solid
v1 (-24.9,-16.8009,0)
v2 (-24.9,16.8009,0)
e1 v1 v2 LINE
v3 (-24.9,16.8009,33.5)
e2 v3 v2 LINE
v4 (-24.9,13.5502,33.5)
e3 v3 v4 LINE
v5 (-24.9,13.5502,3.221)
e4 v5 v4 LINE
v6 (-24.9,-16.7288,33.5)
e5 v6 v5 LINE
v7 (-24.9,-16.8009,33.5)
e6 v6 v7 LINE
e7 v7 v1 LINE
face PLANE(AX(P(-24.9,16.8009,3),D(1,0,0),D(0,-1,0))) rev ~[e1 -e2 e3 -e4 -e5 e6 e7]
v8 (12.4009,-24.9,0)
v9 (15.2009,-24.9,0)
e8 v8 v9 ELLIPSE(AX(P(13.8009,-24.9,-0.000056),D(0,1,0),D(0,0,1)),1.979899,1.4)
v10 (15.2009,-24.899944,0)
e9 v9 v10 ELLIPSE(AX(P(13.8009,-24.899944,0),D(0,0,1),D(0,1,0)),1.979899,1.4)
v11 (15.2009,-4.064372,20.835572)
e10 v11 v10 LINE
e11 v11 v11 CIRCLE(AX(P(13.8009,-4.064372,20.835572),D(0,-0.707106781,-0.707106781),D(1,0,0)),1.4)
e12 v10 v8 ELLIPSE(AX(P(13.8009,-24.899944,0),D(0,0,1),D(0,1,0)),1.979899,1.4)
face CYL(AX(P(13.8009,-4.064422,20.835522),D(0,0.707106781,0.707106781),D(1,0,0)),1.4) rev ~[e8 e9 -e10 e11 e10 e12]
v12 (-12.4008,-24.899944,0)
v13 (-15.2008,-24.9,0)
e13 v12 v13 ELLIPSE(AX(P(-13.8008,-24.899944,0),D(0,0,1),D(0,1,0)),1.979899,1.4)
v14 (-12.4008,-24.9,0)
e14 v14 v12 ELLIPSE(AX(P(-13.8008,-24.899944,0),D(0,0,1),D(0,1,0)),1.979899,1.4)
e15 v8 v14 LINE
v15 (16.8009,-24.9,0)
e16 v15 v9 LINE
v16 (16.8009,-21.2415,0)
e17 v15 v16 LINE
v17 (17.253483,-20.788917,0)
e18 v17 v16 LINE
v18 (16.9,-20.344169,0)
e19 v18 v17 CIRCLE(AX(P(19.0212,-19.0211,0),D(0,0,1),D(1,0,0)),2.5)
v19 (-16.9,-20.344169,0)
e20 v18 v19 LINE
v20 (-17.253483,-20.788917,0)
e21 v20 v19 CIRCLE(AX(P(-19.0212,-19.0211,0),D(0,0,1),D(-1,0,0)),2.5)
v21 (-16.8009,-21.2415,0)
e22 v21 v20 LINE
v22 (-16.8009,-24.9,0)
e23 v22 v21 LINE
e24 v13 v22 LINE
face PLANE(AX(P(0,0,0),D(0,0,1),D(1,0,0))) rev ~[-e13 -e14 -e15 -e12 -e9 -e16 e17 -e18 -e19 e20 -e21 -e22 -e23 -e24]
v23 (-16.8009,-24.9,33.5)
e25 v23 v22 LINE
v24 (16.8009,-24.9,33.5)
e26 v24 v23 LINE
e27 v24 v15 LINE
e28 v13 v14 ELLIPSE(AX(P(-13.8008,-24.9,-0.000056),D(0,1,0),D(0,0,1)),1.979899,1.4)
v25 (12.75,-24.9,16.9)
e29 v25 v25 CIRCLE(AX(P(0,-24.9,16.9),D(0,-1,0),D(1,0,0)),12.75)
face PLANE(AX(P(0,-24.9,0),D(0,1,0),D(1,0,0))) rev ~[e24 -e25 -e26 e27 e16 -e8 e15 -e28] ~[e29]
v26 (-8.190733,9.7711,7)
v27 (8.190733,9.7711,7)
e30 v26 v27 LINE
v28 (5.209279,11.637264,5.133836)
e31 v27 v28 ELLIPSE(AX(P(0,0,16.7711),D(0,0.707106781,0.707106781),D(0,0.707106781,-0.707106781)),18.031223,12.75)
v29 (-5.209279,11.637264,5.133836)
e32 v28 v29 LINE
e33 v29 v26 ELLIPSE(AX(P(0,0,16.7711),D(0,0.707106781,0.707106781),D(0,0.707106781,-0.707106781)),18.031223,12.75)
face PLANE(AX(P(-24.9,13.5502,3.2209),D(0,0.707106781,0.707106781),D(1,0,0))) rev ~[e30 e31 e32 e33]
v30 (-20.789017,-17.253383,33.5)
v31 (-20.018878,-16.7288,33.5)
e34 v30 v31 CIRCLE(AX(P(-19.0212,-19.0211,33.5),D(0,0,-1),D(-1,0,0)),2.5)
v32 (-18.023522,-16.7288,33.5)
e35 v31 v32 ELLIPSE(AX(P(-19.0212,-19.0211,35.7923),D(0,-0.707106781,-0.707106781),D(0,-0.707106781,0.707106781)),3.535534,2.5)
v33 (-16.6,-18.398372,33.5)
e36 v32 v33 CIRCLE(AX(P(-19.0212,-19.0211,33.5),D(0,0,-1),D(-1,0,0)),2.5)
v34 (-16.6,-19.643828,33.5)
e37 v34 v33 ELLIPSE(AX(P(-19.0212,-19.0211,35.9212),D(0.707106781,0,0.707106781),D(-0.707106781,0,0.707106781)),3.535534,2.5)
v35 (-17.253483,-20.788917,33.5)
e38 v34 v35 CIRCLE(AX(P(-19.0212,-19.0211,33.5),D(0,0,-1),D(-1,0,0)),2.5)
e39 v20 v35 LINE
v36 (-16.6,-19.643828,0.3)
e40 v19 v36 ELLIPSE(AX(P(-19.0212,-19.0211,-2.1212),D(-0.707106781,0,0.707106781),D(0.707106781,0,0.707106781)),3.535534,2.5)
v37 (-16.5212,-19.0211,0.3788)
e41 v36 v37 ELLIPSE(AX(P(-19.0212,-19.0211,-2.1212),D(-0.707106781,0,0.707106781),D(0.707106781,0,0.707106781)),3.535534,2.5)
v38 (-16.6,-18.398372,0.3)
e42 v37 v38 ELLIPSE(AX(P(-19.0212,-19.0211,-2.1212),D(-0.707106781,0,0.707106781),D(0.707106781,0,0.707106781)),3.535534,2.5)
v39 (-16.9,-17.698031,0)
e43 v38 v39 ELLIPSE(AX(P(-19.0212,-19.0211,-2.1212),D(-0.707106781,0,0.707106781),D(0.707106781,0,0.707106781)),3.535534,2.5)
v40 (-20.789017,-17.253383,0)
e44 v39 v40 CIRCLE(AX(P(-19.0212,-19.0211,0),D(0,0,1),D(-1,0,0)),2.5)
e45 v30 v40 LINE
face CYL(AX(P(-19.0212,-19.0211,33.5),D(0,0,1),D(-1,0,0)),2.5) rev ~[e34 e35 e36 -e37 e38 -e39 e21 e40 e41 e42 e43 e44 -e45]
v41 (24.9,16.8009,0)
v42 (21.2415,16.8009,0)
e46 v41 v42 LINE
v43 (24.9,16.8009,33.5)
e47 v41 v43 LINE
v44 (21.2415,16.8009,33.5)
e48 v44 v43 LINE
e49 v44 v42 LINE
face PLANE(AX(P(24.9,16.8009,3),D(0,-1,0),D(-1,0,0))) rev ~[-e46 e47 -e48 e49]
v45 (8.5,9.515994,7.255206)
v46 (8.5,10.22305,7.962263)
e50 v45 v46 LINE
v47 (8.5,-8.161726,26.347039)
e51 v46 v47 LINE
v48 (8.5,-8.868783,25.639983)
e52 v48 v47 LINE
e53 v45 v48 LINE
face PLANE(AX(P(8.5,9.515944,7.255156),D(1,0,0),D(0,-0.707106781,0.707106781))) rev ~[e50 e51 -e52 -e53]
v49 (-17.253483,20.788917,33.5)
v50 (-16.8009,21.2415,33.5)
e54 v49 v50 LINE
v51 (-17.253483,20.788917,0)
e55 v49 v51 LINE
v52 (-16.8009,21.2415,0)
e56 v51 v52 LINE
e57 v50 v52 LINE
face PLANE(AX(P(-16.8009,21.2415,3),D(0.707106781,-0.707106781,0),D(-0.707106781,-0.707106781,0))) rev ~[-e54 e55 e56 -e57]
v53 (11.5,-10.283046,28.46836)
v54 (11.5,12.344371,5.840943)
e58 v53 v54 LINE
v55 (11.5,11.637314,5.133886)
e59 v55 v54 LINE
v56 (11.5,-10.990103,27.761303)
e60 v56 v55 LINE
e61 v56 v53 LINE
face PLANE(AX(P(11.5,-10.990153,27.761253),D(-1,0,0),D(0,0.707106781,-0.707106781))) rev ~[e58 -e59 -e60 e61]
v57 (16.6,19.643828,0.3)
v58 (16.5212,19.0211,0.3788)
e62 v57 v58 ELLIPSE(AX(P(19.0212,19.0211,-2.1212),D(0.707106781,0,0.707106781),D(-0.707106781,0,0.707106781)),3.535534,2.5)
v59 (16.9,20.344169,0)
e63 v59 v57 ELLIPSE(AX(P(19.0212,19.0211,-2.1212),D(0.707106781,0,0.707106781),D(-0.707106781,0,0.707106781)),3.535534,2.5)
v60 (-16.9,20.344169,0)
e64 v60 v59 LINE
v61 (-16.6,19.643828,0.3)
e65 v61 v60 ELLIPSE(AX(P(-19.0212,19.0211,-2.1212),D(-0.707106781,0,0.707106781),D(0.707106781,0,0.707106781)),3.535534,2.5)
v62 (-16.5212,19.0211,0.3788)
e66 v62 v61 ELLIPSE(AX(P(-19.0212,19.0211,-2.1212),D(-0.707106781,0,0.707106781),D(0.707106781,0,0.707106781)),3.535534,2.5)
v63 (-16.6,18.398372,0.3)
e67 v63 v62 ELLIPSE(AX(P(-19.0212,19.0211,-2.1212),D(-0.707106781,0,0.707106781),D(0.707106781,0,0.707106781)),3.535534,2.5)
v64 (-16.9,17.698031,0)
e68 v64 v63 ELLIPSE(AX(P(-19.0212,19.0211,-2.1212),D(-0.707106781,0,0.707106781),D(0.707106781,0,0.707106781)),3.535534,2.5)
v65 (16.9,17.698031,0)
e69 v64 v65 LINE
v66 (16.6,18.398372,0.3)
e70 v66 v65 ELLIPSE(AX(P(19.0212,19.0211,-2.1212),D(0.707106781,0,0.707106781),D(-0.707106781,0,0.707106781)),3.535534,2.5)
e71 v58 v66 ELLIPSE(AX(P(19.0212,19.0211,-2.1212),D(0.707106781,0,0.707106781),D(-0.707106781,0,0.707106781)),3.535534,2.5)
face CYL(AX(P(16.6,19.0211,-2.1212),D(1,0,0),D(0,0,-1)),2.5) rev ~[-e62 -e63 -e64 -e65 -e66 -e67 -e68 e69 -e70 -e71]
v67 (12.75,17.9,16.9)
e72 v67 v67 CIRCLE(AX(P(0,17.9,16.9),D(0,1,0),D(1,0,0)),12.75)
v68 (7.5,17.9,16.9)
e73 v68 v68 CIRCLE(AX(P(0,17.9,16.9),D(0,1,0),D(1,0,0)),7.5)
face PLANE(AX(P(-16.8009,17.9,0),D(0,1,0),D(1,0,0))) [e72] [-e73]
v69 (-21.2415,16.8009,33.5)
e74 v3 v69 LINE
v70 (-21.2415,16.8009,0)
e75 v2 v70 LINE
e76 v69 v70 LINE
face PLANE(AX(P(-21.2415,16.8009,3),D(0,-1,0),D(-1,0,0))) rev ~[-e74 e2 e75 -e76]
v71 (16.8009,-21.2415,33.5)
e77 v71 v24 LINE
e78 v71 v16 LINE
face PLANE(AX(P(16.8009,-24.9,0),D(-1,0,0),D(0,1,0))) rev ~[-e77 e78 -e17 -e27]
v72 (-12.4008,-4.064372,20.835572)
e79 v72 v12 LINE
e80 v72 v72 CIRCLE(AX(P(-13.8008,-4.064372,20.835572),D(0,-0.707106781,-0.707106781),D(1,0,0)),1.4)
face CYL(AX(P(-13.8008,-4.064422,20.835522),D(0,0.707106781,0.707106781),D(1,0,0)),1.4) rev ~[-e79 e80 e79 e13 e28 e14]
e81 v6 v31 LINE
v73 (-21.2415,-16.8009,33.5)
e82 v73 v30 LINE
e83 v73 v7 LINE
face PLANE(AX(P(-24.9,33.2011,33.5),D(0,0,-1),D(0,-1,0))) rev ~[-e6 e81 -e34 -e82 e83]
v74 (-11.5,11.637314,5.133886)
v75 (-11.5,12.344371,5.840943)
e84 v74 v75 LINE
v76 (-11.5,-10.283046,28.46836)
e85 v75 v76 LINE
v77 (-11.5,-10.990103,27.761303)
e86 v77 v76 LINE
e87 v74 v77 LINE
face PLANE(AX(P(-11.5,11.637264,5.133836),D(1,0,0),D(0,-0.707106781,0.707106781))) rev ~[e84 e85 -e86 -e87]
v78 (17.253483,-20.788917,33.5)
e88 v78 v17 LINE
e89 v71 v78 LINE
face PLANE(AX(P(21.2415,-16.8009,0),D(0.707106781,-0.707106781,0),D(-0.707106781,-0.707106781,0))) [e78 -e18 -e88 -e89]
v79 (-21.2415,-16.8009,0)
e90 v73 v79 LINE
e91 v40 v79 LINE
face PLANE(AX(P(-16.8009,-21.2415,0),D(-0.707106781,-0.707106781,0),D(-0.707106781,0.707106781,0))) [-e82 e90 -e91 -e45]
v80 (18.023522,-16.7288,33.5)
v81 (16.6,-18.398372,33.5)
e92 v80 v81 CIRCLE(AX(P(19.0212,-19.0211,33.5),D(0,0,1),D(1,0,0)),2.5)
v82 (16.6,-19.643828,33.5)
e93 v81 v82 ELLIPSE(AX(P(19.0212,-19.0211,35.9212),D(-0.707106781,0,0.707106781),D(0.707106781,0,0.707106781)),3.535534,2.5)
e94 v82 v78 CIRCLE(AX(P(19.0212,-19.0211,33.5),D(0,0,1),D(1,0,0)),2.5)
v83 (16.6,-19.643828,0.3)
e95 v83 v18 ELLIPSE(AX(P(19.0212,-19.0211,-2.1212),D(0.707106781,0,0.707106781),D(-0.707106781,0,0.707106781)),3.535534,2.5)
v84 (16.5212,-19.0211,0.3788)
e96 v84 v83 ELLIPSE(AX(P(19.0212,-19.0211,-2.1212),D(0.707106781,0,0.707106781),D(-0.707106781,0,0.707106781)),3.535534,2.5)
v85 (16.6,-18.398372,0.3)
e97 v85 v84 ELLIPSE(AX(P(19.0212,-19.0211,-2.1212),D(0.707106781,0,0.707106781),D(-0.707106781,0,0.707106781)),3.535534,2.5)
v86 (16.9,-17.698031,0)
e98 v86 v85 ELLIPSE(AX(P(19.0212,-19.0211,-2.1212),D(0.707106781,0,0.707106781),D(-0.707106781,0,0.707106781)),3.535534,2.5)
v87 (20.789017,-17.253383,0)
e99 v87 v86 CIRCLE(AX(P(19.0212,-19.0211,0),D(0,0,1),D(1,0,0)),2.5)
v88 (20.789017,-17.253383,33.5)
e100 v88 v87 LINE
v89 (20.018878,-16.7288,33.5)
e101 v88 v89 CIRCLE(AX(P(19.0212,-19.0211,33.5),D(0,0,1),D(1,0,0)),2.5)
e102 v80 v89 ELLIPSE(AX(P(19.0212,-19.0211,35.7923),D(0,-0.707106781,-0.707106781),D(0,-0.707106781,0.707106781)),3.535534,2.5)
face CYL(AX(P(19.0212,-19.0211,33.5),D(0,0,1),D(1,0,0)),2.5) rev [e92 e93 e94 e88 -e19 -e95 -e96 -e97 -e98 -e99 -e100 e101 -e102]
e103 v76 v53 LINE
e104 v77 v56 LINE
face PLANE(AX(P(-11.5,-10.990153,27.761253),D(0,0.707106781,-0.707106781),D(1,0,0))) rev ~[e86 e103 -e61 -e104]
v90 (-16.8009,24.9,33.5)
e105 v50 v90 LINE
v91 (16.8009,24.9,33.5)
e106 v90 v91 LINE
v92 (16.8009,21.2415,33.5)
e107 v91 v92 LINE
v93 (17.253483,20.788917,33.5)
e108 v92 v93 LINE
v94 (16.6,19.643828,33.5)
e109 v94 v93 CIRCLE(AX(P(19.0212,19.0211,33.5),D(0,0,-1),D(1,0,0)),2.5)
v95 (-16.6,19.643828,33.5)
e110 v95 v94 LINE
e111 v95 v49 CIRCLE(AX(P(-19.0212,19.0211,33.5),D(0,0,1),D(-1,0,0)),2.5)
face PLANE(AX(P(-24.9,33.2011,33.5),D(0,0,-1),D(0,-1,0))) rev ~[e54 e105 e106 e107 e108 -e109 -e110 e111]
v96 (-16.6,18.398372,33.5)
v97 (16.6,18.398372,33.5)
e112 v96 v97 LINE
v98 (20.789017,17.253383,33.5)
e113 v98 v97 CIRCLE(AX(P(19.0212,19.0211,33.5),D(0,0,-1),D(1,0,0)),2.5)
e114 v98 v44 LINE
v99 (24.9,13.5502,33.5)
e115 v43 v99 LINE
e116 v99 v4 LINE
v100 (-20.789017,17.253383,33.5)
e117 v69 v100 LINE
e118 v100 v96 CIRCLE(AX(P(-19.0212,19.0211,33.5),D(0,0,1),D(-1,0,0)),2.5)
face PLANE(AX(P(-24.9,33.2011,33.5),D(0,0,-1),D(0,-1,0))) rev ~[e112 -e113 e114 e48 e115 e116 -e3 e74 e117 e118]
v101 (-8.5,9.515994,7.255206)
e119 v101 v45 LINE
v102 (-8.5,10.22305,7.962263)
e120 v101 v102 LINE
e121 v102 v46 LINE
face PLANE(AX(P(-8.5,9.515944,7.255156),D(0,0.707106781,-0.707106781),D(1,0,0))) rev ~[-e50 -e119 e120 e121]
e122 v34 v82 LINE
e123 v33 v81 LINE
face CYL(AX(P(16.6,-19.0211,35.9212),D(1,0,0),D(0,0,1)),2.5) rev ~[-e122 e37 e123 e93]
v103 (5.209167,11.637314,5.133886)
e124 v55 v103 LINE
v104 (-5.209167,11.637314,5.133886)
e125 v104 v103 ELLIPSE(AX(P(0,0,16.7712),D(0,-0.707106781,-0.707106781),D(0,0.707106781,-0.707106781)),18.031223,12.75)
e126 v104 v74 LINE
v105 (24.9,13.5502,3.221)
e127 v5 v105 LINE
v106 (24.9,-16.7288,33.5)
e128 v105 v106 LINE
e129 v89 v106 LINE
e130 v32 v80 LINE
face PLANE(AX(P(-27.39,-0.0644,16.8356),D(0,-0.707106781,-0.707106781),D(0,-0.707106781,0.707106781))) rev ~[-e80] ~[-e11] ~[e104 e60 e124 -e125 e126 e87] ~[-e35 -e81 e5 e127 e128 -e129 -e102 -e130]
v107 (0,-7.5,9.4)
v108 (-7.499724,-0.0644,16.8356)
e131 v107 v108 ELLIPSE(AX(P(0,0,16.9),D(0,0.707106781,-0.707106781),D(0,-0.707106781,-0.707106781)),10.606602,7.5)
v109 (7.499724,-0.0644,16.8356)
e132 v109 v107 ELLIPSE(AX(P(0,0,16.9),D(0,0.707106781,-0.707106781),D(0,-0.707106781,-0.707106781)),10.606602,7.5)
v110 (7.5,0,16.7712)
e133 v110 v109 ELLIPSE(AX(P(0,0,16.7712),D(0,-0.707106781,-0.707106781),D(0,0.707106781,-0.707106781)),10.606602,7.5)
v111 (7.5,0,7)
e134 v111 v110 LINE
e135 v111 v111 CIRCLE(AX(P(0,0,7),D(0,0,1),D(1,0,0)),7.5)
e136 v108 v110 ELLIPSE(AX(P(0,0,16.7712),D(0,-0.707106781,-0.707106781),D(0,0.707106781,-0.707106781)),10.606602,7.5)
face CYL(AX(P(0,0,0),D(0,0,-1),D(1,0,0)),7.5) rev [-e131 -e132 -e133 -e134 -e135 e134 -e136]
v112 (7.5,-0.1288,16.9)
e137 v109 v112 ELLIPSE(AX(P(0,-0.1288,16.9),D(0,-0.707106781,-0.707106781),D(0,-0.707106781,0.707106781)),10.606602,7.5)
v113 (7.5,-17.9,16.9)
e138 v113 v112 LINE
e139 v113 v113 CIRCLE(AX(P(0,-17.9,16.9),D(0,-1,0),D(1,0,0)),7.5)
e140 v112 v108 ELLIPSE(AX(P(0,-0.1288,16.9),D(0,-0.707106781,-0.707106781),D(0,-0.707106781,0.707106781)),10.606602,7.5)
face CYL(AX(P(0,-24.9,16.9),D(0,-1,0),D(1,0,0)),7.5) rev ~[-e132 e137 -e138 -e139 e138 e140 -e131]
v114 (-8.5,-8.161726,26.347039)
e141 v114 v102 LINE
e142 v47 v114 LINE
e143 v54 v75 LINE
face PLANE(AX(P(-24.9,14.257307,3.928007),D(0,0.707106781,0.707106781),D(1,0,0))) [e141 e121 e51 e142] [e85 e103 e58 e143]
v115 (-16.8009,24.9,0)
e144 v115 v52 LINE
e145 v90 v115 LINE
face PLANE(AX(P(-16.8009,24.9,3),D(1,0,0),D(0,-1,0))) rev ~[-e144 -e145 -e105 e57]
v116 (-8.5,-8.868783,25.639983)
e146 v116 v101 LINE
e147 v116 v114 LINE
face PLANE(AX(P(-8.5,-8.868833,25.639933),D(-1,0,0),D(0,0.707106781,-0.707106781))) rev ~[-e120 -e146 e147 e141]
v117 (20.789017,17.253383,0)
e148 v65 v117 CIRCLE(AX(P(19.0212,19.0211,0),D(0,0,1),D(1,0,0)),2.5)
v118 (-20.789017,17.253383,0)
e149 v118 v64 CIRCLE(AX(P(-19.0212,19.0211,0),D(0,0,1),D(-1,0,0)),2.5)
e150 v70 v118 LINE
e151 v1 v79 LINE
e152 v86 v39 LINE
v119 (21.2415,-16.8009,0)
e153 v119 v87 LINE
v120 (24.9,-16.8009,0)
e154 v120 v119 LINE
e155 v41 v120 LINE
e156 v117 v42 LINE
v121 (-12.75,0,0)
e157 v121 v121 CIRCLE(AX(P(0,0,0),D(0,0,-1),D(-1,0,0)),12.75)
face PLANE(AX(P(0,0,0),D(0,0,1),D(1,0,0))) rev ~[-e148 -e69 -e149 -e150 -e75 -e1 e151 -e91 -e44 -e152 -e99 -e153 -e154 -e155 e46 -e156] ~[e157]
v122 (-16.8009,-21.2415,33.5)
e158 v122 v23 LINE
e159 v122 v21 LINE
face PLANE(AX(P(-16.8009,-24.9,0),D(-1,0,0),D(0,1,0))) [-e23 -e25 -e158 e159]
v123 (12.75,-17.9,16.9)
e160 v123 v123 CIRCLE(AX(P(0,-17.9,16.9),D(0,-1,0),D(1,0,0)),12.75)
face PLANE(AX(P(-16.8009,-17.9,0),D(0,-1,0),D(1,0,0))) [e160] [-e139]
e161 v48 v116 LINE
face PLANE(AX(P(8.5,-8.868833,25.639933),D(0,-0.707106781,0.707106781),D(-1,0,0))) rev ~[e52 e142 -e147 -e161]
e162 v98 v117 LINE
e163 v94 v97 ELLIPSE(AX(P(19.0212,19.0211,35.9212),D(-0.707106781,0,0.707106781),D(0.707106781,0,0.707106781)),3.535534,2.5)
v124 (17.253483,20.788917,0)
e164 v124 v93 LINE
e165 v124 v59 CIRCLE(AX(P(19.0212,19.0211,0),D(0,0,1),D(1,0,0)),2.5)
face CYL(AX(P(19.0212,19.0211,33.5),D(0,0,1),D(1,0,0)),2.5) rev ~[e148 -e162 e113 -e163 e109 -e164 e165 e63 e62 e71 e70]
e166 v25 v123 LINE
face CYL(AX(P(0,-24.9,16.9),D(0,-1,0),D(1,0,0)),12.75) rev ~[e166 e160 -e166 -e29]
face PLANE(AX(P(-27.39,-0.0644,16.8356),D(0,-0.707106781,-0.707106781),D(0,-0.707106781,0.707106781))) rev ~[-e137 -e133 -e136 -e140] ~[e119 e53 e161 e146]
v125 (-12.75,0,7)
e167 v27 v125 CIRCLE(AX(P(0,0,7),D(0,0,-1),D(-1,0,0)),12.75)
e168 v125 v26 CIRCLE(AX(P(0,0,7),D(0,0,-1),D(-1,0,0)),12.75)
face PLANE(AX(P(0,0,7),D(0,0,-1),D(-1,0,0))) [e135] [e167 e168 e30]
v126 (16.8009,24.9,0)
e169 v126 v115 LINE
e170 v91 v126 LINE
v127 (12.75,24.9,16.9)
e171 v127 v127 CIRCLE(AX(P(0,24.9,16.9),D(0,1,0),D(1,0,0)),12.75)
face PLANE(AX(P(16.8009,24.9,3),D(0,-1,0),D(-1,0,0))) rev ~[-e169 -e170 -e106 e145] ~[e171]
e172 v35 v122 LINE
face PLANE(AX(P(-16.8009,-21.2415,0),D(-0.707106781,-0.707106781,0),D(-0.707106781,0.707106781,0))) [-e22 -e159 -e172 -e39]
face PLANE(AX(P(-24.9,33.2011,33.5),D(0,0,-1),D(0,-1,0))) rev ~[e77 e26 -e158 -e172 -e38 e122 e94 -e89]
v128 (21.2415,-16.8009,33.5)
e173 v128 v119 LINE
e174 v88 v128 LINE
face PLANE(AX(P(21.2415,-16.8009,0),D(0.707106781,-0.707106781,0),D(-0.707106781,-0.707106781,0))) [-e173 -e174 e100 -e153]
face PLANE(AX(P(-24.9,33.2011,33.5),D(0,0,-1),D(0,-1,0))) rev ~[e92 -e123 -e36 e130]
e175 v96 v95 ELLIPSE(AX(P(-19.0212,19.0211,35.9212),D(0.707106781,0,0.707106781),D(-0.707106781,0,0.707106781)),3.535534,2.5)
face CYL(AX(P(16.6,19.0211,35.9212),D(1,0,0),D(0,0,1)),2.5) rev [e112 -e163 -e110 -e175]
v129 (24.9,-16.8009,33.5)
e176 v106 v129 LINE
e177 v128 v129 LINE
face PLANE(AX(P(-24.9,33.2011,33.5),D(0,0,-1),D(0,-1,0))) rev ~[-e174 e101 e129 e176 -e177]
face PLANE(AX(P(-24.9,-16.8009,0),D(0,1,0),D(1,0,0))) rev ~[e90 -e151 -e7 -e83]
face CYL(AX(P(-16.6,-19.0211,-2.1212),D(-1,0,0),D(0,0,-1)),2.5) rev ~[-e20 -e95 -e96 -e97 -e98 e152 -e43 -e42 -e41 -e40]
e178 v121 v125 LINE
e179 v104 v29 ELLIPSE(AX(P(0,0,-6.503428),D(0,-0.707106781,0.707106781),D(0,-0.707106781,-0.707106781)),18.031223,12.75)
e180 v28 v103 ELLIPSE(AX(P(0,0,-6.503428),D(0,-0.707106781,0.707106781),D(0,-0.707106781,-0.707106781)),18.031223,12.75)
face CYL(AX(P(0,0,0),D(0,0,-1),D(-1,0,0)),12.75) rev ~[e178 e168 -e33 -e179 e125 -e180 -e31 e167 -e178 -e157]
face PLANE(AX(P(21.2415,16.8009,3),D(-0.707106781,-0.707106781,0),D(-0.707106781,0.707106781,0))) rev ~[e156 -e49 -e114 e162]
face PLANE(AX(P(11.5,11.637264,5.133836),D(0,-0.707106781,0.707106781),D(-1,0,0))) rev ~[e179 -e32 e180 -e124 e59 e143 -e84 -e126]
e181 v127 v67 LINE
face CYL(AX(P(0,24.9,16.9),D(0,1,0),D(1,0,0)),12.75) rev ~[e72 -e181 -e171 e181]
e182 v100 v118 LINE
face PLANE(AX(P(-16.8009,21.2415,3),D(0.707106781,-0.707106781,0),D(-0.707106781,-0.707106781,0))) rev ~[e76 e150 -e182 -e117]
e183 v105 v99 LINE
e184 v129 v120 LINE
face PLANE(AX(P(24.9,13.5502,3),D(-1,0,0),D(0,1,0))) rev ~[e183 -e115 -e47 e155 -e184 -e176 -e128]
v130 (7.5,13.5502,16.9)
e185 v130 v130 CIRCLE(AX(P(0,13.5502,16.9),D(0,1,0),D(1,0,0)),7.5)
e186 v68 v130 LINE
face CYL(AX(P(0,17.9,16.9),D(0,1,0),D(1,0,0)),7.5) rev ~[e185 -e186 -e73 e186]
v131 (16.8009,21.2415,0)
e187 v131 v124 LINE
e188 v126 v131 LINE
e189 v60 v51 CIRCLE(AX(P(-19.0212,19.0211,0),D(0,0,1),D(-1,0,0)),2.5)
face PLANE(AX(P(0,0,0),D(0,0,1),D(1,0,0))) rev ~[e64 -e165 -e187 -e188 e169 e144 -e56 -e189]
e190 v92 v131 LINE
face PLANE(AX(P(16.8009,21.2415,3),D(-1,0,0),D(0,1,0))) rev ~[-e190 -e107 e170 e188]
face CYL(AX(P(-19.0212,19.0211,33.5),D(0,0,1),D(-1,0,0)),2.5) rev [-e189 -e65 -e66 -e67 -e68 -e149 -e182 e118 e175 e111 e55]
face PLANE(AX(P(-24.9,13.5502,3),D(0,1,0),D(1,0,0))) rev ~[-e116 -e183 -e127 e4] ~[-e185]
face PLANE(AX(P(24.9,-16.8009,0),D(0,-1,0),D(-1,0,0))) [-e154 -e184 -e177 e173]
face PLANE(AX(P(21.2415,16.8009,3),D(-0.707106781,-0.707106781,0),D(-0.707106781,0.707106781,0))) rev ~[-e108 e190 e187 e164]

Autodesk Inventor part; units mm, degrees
ref_plane "YZ Plane" through (0, 0, 0) normal (1, 0, 0) x (0, 1, 0)
sketch "Sketch1" plane through (0, 0, 0) normal (0, 0, 1) x (1, 0, 0)
  line L0 (-34.86, 0) -> (34.86, 0) construction
  line L1 (0, -34.86) -> (0, 34.86) construction
  line L2 (0, 0) -> (16.9726, 16.9726) construction
  line L3 (0, 0) -> (24.0028, 0) construction
  line L4 (0, 24.9) -> (16.8009, 24.9)
  line L5 (16.8009, 24.9) -> (16.8009, 21.2415)
  line L6 (16.8009, 21.2415) -> (19.0212, 19.0212)
  line L7 (24.9, 0) -> (24.9, 16.8009)
  line L8 (24.9, 16.8009) -> (21.2415, 16.8009)
  line L9 (21.2415, 16.8009) -> (19.0212, 19.0212)
  line L10 (0, -24.9) -> (16.8009, -24.9)
  line L11 (16.8009, -24.9) -> (16.8009, -21.2415)
  line L12 (16.8009, -21.2415) -> (19.0212, -19.0212)
  line L13 (24.9, 0) -> (24.9, -16.8009)
  line L14 (24.9, -16.8009) -> (21.2415, -16.8009)
  line L15 (21.2415, -16.8009) -> (19.0212, -19.0212)
  line L16 (0, 0) -> (-16.9726, 16.9726) construction
  line L17 (0, 0) -> (-24.0028, 0) construction
  line L18 (0, 24.9) -> (-16.8009, 24.9)
  line L19 (-16.8009, 24.9) -> (-16.8009, 21.2415)
  line L20 (-16.8009, 21.2415) -> (-19.0212, 19.0212)
  line L21 (-24.9, 0) -> (-24.9, 16.8009)
  line L22 (-24.9, 16.8009) -> (-21.2415, 16.8009)
  line L23 (-21.2415, 16.8009) -> (-19.0212, 19.0212)
  line L24 (0, -24.9) -> (-16.8009, -24.9)
  line L25 (-16.8009, -24.9) -> (-16.8009, -21.2415)
  line L26 (-16.8009, -21.2415) -> (-19.0212, -19.0212)
  line L27 (-21.2415, -16.8009) -> (-19.0212, -19.0212)
  line L28 (-24.9, -16.8009) -> (-21.2415, -16.8009)
  line L29 (-24.9, 0) -> (-24.9, -16.8009)
  circle A0 centre (0, 0) radius 7.5
  dimension "d17" = 45
  dimension "d18" = 24.9
  dimension "d20" = 3.14
  dimension "d21" = 26.9
  dimension "d22" = 15
extrude "Extrusion1" add sketch "Sketch1" along normal blind 3
sketch "Sketch6" plane through (0, 0, 3) normal (0, 0, 1) x (1, 0, 0)
  circle A0 centre (0, 0) radius 7.5 projected
  line L0 (16.8009, 24.9) -> (-16.8009, 24.9) projected
  line L1 (-16.8009, 24.9) -> (-16.8009, 21.2415) projected
  line L2 (-16.8009, 21.2415) -> (-21.2415, 16.8009) projected
  line L3 (-21.2415, 16.8009) -> (-24.9, 16.8009) projected
  line L4 (-24.9, 16.8009) -> (-24.9, -16.8009) projected
  line L5 (-24.9, -16.8009) -> (-21.2415, -16.8009) projected
  line L6 (-21.2415, -16.8009) -> (-16.8009, -21.2415) projected
  line L7 (-16.8009, -21.2415) -> (-16.8009, -24.9) projected
  line L8 (-16.8009, -24.9) -> (16.8009, -24.9) projected
  line L9 (16.8009, -24.9) -> (16.8009, -21.2415) projected
  line L10 (16.8009, -21.2415) -> (21.2415, -16.8009) projected
  line L11 (21.2415, -16.8009) -> (24.9, -16.8009) projected
  line L12 (24.9, -16.8009) -> (24.9, 16.8009) projected
  line L13 (24.9, 16.8009) -> (21.2415, 16.8009) projected
  line L14 (21.2415, 16.8009) -> (16.8009, 21.2415) projected
  line L15 (16.8009, 21.2415) -> (16.8009, 24.9) projected
  line L16 (24.9, -16.8009) -> (24.9, 16.8009) projected
  line L17 (24.9, 13.5502) -> (-24.9, 13.5502)
  line L18 (-24.9, 16.8009) -> (-24.9, -16.8009) projected
ref_plane "Work Plane2" through (-27.39, -0.0644, 16.8356) normal (0, -0.7071, -0.7071) x (0, 0.7071, -0.7071)
extrude "Extrusion6" add sketch "Sketch6" along normal up to surface contours L12 L11 L10 L9 L8 L7 L6 L5 L4 L17 surface through (-27.39, -0.0644, 16.8356) normal (0, -0.7071, -0.7071)
sketch "Sketch7" plane through (-16.8009, -24.9, 0) normal (0, -1, 0) x (1, 0, 0)
  line L0 (-0.0991, 33.8) -> (0.8009, 33.8) projected
  arc A0 (-6.0991, 41.8) -> (-8.0991, 39.8) centre (-6.0991, 39.8) ccw projected
  arc A1 (41.7009, 39.8) -> (39.7009, 41.8) centre (39.7009, 39.8) ccw projected
  line L1 (41.9057, 41.8) -> (-10.6447, 41.8)
  line L2 (-10.6447, 41.8) -> (-10.6447, 33.8)
  line L3 (-10.6447, 33.8) -> (41.9057, 33.8)
  line L4 (41.9057, 33.8) -> (41.9057, 41.8)
  point P0 (16.8009, 0)
extrude "Extrusion7" cut sketch "Sketch7" against normal through all
sketch "Sketch8" plane through (21.2415, -16.8009, 0) normal (0, -1, 0) x (1, 0, 0)
  line L0 (-8.7415, 0) -> (-33.7415, 0) projected
  line L1 (-33.7415, -1) -> (-8.7415, -1) projected
  line L2 (-46.1415, 33.572) -> (-42.483, 33.572) projected
  line L3 (3.6585, 33.8) -> (0.0423, 33.8) projected
  line L4 (0, 33.572) -> (3.6585, 33.572) projected
  line L5 (-46.1415, 3.2209) -> (-46.1415, 33.572) projected
  line L6 (3.6585, 33.572) -> (-46.1415, 33.572)
  line L7 (-46.1415, 33.572) -> (-46.1415, 30.572)
  line L8 (-46.1415, 30.572) -> (3.6585, 30.572)
  line L9 (3.6585, 30.572) -> (3.6585, 33.572)
  dimension "d45" = 3
sketch "Sketch9" plane through (-16.8009, -24.9, 0) normal (0, -1, 0) x (1, 0, 0)
  line L0 (33.7009, 0) -> (33.0009, 0) construction
  line L1 (36.0327, -6) -> (22.7009, -6) construction
  circle A0 centre (16.8009, 16.9) radius 16.9 construction
  circle A1 centre (16.8009, 16.9) radius 7.5
  line L2 (39.7009, 8.1978) -> (33.7009, 8.1978) projected
  line L3 (33.7009, 8.1978) -> (33.7009, 0) projected
  line L4 (33.0009, 0) -> (33.0009, -3.7) projected
  line L5 (33.0009, -3.7) -> (22.7009, -3.7) projected
  line L6 (22.7009, -3.7) -> (22.7009, -6) projected
  arc A2 (39.7009, -2.3319) -> (36.0327, -6) centre (36.8009, -3.1) ccw projected
  line L7 (39.7009, 8.1978) -> (39.7009, -2.3319) projected
  point P0 (16.8009, 0)
  dimension "d46" = 15
extrude "Extrusion8" cut sketch "Sketch9" against normal through all
sketch "Sketch10" plane through (-16.8009, -24.9, 0) normal (0, -1, 0) x (1, 0, 0)
  circle A0 centre (16.8009, 16.9) radius 7.5 projected
  circle A1 centre (16.8009, 16.9) radius 12.75
  point P0 (16.8009, 0)
  dimension "d49" = 25.5
extrude "Extrusion9" cut sketch "Sketch10" against normal blind 7
sketch "Sketch11" plane through (0, 0, 0) normal (0, 0, -1) x (-1, 0, 0)
  circle A0 centre (0, 0) radius 7.5 projected
  circle A1 centre (0, 0) radius 12.75
  dimension "d52" = 25.5
extrude "Extrusion10" cut sketch "Sketch11" against normal blind 7
sketch "Sketch12" plane through (-24.9, 13.5502, 3.2209) normal (0, 0.7071, 0.7071) x (1, 0, 0)
  line L0 (32.9, -31.2053) -> (32.9, -6.2053) construction
  line L1 (32.9, -6.2053) -> (16.9, -6.2053) construction
  line L2 (16.9, -6.2053) -> (16.9, -31.2053) construction
  line L3 (16.9, -31.2053) -> (32.9, -31.2053) construction
  line L4 (32.9, -31.2053) -> (16.9, -31.2053) construction
  line L5 (16.9, -31.2053) -> (16.9, -6.2053) construction
  line L6 (16.9, -6.2053) -> (32.9, -6.2053) construction
  line L7 (32.9, -6.2053) -> (32.9, -31.2053) construction
  line L8 (16.4, -5.7053) -> (33.4, -5.7053)
  line L9 (33.4, -5.7053) -> (33.4, -31.7053)
  line L10 (33.4, -31.7053) -> (16.4, -31.7053)
  line L11 (16.4, -31.7053) -> (16.4, -5.7053)
  line L12 (36.4, -2.7053) -> (13.4, -2.7053)
  line L13 (13.4, -2.7053) -> (13.4, -34.7053)
  line L14 (13.4, -34.7053) -> (36.4, -34.7053)
  line L15 (36.4, -34.7053) -> (36.4, -2.7053)
  point P0 (24.9, -7.3039)
  dimension "d55" = 0.5
  dimension "d56" = 3
extrude "Extrusion11" add sketch "Sketch12" along normal blind 1
sketch "Sketch13" plane through (0, 0, 3) normal (0, 0, 1) x (1, 0, 0)
  line L0 (-24.9, 13.5502) -> (24.9, 13.5502) projected
  line L1 (24.9, 13.5502) -> (24.9, 16.8009) projected
  line L2 (24.9, 16.8009) -> (21.2415, 16.8009) projected
  line L3 (21.2415, 16.8009) -> (16.8009, 21.2415) projected
  line L4 (16.8009, 21.2415) -> (16.8009, 24.9) projected
  line L5 (16.8009, 24.9) -> (-16.8009, 24.9) projected
  line L6 (-16.8009, 24.9) -> (-16.8009, 21.2415) projected
  line L7 (-16.8009, 21.2415) -> (-21.2415, 16.8009) projected
  line L8 (-21.2415, 16.8009) -> (-24.9, 16.8009) projected
  line L9 (-24.9, 16.8009) -> (-24.9, 13.5502) projected
  point P0 (0, 0)
ref_plane "Work Plane3" through (-16.9, 21.1423, 33.8) normal (0, 0, -1) x (0, 1, 0)
extrude "Extrusion12" add sketch "Sketch13" along normal up to surface (30.8 mm away)
sketch "Sketch14" plane through (-16.8009, 24.9, 0) normal (0, 1, 0) x (1, 0, 0)
  line L0 (-0.0991, -33.8) -> (-0.0991, 0) construction
  line L1 (33.6017, -33.8) -> (0, -33.8) projected
  line L2 (0, 0) -> (33.6017, 0) projected
  line L3 (33.6017, 0) -> (33.6017, -33.8) projected
  arc A0 (9.3011, -16.8356) -> (24.3006, -16.8356) centre (16.8009, -16.9) ccw construction
  circle A1 centre (16.8009, -16.9) radius 12.75
  point P0 (16.8009, 0)
  dimension "d61" = 25.5
extrude "Extrusion13" cut sketch "Sketch14" against normal blind 7
sketch "Sketch15" plane through (0, 17.9, 16.9) normal (0, 1, 0) x (1, 0, 0)
  circle A0 centre (0, 0) radius 7.5 projected
  point P0 (0, 16.9)
extrude "Extrusion14" cut sketch "Sketch15" against normal through all
sketch "Sketch16" plane through (21.2415, -16.8009, 33.572) normal (0, 0.7071, 0.7071) x (1, 0, 0)
  line L0 (-42.255, -0.3224) -> (-0.228, -0.3224) projected
  line L1 (-0.228, -0.3224) -> (0, 0) projected
  line L2 (0, 0) -> (3.6585, 0) projected
  line L3 (3.6585, 0) -> (3.6585, 42.9229) projected
  line L4 (3.6585, 42.9229) -> (-46.1415, 42.9229) projected
  line L5 (-46.1415, 42.9229) -> (-46.1415, 0) projected
  line L6 (-46.1415, 0) -> (-42.483, 0) projected
  line L7 (-42.483, 0) -> (-42.255, -0.3224) projected
  ellipse E0 centre (-21.2415, 23.76) end of major axis (-21.2415, 41.7912) minor radius 12.75 (-16.0323, 40.2176) -> (-26.4507, 40.2176) ccw projected
  line L8 (-9.7415, 40.2176) -> (-9.7415, 8.2176) projected
  line L9 (-9.7415, 8.2176) -> (-32.7415, 8.2176) projected
  line L10 (-32.7415, 8.2176) -> (-32.7415, 40.2176) projected
  line L11 (-16.0323, 40.2176) -> (-9.7415, 40.2176) projected
  line L12 (-4.4406, 18.0121) -> (-38.0423, 18.0121) projected
  circle A0 centre (-35.0423, 18.0121) radius 1.4
  circle A1 centre (-7.4406, 18.0121) radius 1.4
  line L13 (-32.7415, 40.2176) -> (-26.4507, 40.2176) projected
  point P0 (-21.2415, 35.619)
  point P1 (-4.4406, 18.0121)
  dimension "d66" = 3
  dimension "d67" = 3
  dimension "d68" = 2.8
  dimension "d69" = 2.8
extrude "Extrusion15" cut sketch "Sketch16" along normal through all both and the other way through all contours A1 L12 | L12 A1 | A0 L12 | L12 A0
sketch "Sketch17" plane through (-24.9, -16.8009, 0) normal (-1, 0, 0) x (0, 0, 1)
  line L0 (43.2726, 50.002) -> (33.5, 50.002)
  line L1 (33.5, 50.002) -> (33.5, -21.818)
  line L2 (33.5, -21.818) -> (43.2726, -21.818)
  line L3 (43.2726, -21.818) -> (43.2726, 50.002)
  line L4 (0, 0) -> (0, 33.6017) projected
  point P0 (0, 16.8009)
  dimension "d72" = 33.5
extrude "Extrusion16" cut sketch "Sketch17" against normal through all
sketch "Sketch18" plane through (-24.9, 13.5502, 33.5) normal (0, 0, 1) x (1, 0, 0)
  line L0 (49.8, 0) -> (0, 0) projected
  line L1 (49.8, 3.2506) -> (49.8, 0) projected
  line L2 (46.1415, 3.2506) -> (49.8, 3.2506) projected
  line L3 (41.7009, 7.6912) -> (46.1415, 3.2506) projected
  line L4 (41.7009, 11.3498) -> (41.7009, 7.6912) projected
  line L5 (8.0991, 11.3498) -> (41.7009, 11.3498) projected
  line L6 (8.0991, 7.6912) -> (8.0991, 11.3498) projected
  line L7 (3.6585, 3.2506) -> (8.0991, 7.6912) projected
  line L8 (0, 3.2506) -> (3.6585, 3.2506) projected
  line L9 (0, 0) -> (0, 3.2506) projected
  line L10 (3.6585, -30.3511) -> (0, -30.3511) projected
  line L11 (8.0991, -34.7917) -> (3.6585, -30.3511) projected
  line L12 (8.0991, -38.4502) -> (8.0991, -34.7917) projected
  line L13 (41.7009, -38.4502) -> (8.0991, -38.4502) projected
  line L14 (41.7009, -34.7917) -> (41.7009, -38.4502) projected
  line L15 (46.1415, -30.3511) -> (41.7009, -34.7917) projected
  line L16 (49.8, -30.3511) -> (46.1415, -30.3511) projected
  line L17 (49.8, -30.2791) -> (49.8, -30.3511) projected
  line L18 (0, -30.2791) -> (49.8, -30.2791) projected
  line L19 (0, -30.3511) -> (0, -30.2791) projected
  line L20 (41.7009, 7.6912) -> (46.1415, 3.2506) construction
  line L21 (43.9212, 5.4709) -> (5.8788, -32.5714) construction
  line L22 (8.0991, -34.7917) -> (3.6585, -30.3511) construction
  circle A0 centre (43.9212, 5.4709) radius 2.5
  point P0 (24.9, -13.5502)
  dimension "d75" = 5
extrude "Extrusion17" cut sketch "Sketch18" against normal through all contours A0 L3 | L3 A0
mirror "Mirror3" about plane through (0, 0, 0) normal (1, 0, 0) of "Extrusion17"
mirror "Mirror4" about plane through (0, 0, 0) normal (0, 1, 0) of "Extrusion17", "Mirror3"
pattern_circular "Circular Pattern1" count 4 over 360 about axis through (0, -24.9, 16.9) along (0, 1, 0) of "Extrusion17", "Mirror3", "Mirror4"
properties part number "20_Cube_Insert_Beamsplitter"
